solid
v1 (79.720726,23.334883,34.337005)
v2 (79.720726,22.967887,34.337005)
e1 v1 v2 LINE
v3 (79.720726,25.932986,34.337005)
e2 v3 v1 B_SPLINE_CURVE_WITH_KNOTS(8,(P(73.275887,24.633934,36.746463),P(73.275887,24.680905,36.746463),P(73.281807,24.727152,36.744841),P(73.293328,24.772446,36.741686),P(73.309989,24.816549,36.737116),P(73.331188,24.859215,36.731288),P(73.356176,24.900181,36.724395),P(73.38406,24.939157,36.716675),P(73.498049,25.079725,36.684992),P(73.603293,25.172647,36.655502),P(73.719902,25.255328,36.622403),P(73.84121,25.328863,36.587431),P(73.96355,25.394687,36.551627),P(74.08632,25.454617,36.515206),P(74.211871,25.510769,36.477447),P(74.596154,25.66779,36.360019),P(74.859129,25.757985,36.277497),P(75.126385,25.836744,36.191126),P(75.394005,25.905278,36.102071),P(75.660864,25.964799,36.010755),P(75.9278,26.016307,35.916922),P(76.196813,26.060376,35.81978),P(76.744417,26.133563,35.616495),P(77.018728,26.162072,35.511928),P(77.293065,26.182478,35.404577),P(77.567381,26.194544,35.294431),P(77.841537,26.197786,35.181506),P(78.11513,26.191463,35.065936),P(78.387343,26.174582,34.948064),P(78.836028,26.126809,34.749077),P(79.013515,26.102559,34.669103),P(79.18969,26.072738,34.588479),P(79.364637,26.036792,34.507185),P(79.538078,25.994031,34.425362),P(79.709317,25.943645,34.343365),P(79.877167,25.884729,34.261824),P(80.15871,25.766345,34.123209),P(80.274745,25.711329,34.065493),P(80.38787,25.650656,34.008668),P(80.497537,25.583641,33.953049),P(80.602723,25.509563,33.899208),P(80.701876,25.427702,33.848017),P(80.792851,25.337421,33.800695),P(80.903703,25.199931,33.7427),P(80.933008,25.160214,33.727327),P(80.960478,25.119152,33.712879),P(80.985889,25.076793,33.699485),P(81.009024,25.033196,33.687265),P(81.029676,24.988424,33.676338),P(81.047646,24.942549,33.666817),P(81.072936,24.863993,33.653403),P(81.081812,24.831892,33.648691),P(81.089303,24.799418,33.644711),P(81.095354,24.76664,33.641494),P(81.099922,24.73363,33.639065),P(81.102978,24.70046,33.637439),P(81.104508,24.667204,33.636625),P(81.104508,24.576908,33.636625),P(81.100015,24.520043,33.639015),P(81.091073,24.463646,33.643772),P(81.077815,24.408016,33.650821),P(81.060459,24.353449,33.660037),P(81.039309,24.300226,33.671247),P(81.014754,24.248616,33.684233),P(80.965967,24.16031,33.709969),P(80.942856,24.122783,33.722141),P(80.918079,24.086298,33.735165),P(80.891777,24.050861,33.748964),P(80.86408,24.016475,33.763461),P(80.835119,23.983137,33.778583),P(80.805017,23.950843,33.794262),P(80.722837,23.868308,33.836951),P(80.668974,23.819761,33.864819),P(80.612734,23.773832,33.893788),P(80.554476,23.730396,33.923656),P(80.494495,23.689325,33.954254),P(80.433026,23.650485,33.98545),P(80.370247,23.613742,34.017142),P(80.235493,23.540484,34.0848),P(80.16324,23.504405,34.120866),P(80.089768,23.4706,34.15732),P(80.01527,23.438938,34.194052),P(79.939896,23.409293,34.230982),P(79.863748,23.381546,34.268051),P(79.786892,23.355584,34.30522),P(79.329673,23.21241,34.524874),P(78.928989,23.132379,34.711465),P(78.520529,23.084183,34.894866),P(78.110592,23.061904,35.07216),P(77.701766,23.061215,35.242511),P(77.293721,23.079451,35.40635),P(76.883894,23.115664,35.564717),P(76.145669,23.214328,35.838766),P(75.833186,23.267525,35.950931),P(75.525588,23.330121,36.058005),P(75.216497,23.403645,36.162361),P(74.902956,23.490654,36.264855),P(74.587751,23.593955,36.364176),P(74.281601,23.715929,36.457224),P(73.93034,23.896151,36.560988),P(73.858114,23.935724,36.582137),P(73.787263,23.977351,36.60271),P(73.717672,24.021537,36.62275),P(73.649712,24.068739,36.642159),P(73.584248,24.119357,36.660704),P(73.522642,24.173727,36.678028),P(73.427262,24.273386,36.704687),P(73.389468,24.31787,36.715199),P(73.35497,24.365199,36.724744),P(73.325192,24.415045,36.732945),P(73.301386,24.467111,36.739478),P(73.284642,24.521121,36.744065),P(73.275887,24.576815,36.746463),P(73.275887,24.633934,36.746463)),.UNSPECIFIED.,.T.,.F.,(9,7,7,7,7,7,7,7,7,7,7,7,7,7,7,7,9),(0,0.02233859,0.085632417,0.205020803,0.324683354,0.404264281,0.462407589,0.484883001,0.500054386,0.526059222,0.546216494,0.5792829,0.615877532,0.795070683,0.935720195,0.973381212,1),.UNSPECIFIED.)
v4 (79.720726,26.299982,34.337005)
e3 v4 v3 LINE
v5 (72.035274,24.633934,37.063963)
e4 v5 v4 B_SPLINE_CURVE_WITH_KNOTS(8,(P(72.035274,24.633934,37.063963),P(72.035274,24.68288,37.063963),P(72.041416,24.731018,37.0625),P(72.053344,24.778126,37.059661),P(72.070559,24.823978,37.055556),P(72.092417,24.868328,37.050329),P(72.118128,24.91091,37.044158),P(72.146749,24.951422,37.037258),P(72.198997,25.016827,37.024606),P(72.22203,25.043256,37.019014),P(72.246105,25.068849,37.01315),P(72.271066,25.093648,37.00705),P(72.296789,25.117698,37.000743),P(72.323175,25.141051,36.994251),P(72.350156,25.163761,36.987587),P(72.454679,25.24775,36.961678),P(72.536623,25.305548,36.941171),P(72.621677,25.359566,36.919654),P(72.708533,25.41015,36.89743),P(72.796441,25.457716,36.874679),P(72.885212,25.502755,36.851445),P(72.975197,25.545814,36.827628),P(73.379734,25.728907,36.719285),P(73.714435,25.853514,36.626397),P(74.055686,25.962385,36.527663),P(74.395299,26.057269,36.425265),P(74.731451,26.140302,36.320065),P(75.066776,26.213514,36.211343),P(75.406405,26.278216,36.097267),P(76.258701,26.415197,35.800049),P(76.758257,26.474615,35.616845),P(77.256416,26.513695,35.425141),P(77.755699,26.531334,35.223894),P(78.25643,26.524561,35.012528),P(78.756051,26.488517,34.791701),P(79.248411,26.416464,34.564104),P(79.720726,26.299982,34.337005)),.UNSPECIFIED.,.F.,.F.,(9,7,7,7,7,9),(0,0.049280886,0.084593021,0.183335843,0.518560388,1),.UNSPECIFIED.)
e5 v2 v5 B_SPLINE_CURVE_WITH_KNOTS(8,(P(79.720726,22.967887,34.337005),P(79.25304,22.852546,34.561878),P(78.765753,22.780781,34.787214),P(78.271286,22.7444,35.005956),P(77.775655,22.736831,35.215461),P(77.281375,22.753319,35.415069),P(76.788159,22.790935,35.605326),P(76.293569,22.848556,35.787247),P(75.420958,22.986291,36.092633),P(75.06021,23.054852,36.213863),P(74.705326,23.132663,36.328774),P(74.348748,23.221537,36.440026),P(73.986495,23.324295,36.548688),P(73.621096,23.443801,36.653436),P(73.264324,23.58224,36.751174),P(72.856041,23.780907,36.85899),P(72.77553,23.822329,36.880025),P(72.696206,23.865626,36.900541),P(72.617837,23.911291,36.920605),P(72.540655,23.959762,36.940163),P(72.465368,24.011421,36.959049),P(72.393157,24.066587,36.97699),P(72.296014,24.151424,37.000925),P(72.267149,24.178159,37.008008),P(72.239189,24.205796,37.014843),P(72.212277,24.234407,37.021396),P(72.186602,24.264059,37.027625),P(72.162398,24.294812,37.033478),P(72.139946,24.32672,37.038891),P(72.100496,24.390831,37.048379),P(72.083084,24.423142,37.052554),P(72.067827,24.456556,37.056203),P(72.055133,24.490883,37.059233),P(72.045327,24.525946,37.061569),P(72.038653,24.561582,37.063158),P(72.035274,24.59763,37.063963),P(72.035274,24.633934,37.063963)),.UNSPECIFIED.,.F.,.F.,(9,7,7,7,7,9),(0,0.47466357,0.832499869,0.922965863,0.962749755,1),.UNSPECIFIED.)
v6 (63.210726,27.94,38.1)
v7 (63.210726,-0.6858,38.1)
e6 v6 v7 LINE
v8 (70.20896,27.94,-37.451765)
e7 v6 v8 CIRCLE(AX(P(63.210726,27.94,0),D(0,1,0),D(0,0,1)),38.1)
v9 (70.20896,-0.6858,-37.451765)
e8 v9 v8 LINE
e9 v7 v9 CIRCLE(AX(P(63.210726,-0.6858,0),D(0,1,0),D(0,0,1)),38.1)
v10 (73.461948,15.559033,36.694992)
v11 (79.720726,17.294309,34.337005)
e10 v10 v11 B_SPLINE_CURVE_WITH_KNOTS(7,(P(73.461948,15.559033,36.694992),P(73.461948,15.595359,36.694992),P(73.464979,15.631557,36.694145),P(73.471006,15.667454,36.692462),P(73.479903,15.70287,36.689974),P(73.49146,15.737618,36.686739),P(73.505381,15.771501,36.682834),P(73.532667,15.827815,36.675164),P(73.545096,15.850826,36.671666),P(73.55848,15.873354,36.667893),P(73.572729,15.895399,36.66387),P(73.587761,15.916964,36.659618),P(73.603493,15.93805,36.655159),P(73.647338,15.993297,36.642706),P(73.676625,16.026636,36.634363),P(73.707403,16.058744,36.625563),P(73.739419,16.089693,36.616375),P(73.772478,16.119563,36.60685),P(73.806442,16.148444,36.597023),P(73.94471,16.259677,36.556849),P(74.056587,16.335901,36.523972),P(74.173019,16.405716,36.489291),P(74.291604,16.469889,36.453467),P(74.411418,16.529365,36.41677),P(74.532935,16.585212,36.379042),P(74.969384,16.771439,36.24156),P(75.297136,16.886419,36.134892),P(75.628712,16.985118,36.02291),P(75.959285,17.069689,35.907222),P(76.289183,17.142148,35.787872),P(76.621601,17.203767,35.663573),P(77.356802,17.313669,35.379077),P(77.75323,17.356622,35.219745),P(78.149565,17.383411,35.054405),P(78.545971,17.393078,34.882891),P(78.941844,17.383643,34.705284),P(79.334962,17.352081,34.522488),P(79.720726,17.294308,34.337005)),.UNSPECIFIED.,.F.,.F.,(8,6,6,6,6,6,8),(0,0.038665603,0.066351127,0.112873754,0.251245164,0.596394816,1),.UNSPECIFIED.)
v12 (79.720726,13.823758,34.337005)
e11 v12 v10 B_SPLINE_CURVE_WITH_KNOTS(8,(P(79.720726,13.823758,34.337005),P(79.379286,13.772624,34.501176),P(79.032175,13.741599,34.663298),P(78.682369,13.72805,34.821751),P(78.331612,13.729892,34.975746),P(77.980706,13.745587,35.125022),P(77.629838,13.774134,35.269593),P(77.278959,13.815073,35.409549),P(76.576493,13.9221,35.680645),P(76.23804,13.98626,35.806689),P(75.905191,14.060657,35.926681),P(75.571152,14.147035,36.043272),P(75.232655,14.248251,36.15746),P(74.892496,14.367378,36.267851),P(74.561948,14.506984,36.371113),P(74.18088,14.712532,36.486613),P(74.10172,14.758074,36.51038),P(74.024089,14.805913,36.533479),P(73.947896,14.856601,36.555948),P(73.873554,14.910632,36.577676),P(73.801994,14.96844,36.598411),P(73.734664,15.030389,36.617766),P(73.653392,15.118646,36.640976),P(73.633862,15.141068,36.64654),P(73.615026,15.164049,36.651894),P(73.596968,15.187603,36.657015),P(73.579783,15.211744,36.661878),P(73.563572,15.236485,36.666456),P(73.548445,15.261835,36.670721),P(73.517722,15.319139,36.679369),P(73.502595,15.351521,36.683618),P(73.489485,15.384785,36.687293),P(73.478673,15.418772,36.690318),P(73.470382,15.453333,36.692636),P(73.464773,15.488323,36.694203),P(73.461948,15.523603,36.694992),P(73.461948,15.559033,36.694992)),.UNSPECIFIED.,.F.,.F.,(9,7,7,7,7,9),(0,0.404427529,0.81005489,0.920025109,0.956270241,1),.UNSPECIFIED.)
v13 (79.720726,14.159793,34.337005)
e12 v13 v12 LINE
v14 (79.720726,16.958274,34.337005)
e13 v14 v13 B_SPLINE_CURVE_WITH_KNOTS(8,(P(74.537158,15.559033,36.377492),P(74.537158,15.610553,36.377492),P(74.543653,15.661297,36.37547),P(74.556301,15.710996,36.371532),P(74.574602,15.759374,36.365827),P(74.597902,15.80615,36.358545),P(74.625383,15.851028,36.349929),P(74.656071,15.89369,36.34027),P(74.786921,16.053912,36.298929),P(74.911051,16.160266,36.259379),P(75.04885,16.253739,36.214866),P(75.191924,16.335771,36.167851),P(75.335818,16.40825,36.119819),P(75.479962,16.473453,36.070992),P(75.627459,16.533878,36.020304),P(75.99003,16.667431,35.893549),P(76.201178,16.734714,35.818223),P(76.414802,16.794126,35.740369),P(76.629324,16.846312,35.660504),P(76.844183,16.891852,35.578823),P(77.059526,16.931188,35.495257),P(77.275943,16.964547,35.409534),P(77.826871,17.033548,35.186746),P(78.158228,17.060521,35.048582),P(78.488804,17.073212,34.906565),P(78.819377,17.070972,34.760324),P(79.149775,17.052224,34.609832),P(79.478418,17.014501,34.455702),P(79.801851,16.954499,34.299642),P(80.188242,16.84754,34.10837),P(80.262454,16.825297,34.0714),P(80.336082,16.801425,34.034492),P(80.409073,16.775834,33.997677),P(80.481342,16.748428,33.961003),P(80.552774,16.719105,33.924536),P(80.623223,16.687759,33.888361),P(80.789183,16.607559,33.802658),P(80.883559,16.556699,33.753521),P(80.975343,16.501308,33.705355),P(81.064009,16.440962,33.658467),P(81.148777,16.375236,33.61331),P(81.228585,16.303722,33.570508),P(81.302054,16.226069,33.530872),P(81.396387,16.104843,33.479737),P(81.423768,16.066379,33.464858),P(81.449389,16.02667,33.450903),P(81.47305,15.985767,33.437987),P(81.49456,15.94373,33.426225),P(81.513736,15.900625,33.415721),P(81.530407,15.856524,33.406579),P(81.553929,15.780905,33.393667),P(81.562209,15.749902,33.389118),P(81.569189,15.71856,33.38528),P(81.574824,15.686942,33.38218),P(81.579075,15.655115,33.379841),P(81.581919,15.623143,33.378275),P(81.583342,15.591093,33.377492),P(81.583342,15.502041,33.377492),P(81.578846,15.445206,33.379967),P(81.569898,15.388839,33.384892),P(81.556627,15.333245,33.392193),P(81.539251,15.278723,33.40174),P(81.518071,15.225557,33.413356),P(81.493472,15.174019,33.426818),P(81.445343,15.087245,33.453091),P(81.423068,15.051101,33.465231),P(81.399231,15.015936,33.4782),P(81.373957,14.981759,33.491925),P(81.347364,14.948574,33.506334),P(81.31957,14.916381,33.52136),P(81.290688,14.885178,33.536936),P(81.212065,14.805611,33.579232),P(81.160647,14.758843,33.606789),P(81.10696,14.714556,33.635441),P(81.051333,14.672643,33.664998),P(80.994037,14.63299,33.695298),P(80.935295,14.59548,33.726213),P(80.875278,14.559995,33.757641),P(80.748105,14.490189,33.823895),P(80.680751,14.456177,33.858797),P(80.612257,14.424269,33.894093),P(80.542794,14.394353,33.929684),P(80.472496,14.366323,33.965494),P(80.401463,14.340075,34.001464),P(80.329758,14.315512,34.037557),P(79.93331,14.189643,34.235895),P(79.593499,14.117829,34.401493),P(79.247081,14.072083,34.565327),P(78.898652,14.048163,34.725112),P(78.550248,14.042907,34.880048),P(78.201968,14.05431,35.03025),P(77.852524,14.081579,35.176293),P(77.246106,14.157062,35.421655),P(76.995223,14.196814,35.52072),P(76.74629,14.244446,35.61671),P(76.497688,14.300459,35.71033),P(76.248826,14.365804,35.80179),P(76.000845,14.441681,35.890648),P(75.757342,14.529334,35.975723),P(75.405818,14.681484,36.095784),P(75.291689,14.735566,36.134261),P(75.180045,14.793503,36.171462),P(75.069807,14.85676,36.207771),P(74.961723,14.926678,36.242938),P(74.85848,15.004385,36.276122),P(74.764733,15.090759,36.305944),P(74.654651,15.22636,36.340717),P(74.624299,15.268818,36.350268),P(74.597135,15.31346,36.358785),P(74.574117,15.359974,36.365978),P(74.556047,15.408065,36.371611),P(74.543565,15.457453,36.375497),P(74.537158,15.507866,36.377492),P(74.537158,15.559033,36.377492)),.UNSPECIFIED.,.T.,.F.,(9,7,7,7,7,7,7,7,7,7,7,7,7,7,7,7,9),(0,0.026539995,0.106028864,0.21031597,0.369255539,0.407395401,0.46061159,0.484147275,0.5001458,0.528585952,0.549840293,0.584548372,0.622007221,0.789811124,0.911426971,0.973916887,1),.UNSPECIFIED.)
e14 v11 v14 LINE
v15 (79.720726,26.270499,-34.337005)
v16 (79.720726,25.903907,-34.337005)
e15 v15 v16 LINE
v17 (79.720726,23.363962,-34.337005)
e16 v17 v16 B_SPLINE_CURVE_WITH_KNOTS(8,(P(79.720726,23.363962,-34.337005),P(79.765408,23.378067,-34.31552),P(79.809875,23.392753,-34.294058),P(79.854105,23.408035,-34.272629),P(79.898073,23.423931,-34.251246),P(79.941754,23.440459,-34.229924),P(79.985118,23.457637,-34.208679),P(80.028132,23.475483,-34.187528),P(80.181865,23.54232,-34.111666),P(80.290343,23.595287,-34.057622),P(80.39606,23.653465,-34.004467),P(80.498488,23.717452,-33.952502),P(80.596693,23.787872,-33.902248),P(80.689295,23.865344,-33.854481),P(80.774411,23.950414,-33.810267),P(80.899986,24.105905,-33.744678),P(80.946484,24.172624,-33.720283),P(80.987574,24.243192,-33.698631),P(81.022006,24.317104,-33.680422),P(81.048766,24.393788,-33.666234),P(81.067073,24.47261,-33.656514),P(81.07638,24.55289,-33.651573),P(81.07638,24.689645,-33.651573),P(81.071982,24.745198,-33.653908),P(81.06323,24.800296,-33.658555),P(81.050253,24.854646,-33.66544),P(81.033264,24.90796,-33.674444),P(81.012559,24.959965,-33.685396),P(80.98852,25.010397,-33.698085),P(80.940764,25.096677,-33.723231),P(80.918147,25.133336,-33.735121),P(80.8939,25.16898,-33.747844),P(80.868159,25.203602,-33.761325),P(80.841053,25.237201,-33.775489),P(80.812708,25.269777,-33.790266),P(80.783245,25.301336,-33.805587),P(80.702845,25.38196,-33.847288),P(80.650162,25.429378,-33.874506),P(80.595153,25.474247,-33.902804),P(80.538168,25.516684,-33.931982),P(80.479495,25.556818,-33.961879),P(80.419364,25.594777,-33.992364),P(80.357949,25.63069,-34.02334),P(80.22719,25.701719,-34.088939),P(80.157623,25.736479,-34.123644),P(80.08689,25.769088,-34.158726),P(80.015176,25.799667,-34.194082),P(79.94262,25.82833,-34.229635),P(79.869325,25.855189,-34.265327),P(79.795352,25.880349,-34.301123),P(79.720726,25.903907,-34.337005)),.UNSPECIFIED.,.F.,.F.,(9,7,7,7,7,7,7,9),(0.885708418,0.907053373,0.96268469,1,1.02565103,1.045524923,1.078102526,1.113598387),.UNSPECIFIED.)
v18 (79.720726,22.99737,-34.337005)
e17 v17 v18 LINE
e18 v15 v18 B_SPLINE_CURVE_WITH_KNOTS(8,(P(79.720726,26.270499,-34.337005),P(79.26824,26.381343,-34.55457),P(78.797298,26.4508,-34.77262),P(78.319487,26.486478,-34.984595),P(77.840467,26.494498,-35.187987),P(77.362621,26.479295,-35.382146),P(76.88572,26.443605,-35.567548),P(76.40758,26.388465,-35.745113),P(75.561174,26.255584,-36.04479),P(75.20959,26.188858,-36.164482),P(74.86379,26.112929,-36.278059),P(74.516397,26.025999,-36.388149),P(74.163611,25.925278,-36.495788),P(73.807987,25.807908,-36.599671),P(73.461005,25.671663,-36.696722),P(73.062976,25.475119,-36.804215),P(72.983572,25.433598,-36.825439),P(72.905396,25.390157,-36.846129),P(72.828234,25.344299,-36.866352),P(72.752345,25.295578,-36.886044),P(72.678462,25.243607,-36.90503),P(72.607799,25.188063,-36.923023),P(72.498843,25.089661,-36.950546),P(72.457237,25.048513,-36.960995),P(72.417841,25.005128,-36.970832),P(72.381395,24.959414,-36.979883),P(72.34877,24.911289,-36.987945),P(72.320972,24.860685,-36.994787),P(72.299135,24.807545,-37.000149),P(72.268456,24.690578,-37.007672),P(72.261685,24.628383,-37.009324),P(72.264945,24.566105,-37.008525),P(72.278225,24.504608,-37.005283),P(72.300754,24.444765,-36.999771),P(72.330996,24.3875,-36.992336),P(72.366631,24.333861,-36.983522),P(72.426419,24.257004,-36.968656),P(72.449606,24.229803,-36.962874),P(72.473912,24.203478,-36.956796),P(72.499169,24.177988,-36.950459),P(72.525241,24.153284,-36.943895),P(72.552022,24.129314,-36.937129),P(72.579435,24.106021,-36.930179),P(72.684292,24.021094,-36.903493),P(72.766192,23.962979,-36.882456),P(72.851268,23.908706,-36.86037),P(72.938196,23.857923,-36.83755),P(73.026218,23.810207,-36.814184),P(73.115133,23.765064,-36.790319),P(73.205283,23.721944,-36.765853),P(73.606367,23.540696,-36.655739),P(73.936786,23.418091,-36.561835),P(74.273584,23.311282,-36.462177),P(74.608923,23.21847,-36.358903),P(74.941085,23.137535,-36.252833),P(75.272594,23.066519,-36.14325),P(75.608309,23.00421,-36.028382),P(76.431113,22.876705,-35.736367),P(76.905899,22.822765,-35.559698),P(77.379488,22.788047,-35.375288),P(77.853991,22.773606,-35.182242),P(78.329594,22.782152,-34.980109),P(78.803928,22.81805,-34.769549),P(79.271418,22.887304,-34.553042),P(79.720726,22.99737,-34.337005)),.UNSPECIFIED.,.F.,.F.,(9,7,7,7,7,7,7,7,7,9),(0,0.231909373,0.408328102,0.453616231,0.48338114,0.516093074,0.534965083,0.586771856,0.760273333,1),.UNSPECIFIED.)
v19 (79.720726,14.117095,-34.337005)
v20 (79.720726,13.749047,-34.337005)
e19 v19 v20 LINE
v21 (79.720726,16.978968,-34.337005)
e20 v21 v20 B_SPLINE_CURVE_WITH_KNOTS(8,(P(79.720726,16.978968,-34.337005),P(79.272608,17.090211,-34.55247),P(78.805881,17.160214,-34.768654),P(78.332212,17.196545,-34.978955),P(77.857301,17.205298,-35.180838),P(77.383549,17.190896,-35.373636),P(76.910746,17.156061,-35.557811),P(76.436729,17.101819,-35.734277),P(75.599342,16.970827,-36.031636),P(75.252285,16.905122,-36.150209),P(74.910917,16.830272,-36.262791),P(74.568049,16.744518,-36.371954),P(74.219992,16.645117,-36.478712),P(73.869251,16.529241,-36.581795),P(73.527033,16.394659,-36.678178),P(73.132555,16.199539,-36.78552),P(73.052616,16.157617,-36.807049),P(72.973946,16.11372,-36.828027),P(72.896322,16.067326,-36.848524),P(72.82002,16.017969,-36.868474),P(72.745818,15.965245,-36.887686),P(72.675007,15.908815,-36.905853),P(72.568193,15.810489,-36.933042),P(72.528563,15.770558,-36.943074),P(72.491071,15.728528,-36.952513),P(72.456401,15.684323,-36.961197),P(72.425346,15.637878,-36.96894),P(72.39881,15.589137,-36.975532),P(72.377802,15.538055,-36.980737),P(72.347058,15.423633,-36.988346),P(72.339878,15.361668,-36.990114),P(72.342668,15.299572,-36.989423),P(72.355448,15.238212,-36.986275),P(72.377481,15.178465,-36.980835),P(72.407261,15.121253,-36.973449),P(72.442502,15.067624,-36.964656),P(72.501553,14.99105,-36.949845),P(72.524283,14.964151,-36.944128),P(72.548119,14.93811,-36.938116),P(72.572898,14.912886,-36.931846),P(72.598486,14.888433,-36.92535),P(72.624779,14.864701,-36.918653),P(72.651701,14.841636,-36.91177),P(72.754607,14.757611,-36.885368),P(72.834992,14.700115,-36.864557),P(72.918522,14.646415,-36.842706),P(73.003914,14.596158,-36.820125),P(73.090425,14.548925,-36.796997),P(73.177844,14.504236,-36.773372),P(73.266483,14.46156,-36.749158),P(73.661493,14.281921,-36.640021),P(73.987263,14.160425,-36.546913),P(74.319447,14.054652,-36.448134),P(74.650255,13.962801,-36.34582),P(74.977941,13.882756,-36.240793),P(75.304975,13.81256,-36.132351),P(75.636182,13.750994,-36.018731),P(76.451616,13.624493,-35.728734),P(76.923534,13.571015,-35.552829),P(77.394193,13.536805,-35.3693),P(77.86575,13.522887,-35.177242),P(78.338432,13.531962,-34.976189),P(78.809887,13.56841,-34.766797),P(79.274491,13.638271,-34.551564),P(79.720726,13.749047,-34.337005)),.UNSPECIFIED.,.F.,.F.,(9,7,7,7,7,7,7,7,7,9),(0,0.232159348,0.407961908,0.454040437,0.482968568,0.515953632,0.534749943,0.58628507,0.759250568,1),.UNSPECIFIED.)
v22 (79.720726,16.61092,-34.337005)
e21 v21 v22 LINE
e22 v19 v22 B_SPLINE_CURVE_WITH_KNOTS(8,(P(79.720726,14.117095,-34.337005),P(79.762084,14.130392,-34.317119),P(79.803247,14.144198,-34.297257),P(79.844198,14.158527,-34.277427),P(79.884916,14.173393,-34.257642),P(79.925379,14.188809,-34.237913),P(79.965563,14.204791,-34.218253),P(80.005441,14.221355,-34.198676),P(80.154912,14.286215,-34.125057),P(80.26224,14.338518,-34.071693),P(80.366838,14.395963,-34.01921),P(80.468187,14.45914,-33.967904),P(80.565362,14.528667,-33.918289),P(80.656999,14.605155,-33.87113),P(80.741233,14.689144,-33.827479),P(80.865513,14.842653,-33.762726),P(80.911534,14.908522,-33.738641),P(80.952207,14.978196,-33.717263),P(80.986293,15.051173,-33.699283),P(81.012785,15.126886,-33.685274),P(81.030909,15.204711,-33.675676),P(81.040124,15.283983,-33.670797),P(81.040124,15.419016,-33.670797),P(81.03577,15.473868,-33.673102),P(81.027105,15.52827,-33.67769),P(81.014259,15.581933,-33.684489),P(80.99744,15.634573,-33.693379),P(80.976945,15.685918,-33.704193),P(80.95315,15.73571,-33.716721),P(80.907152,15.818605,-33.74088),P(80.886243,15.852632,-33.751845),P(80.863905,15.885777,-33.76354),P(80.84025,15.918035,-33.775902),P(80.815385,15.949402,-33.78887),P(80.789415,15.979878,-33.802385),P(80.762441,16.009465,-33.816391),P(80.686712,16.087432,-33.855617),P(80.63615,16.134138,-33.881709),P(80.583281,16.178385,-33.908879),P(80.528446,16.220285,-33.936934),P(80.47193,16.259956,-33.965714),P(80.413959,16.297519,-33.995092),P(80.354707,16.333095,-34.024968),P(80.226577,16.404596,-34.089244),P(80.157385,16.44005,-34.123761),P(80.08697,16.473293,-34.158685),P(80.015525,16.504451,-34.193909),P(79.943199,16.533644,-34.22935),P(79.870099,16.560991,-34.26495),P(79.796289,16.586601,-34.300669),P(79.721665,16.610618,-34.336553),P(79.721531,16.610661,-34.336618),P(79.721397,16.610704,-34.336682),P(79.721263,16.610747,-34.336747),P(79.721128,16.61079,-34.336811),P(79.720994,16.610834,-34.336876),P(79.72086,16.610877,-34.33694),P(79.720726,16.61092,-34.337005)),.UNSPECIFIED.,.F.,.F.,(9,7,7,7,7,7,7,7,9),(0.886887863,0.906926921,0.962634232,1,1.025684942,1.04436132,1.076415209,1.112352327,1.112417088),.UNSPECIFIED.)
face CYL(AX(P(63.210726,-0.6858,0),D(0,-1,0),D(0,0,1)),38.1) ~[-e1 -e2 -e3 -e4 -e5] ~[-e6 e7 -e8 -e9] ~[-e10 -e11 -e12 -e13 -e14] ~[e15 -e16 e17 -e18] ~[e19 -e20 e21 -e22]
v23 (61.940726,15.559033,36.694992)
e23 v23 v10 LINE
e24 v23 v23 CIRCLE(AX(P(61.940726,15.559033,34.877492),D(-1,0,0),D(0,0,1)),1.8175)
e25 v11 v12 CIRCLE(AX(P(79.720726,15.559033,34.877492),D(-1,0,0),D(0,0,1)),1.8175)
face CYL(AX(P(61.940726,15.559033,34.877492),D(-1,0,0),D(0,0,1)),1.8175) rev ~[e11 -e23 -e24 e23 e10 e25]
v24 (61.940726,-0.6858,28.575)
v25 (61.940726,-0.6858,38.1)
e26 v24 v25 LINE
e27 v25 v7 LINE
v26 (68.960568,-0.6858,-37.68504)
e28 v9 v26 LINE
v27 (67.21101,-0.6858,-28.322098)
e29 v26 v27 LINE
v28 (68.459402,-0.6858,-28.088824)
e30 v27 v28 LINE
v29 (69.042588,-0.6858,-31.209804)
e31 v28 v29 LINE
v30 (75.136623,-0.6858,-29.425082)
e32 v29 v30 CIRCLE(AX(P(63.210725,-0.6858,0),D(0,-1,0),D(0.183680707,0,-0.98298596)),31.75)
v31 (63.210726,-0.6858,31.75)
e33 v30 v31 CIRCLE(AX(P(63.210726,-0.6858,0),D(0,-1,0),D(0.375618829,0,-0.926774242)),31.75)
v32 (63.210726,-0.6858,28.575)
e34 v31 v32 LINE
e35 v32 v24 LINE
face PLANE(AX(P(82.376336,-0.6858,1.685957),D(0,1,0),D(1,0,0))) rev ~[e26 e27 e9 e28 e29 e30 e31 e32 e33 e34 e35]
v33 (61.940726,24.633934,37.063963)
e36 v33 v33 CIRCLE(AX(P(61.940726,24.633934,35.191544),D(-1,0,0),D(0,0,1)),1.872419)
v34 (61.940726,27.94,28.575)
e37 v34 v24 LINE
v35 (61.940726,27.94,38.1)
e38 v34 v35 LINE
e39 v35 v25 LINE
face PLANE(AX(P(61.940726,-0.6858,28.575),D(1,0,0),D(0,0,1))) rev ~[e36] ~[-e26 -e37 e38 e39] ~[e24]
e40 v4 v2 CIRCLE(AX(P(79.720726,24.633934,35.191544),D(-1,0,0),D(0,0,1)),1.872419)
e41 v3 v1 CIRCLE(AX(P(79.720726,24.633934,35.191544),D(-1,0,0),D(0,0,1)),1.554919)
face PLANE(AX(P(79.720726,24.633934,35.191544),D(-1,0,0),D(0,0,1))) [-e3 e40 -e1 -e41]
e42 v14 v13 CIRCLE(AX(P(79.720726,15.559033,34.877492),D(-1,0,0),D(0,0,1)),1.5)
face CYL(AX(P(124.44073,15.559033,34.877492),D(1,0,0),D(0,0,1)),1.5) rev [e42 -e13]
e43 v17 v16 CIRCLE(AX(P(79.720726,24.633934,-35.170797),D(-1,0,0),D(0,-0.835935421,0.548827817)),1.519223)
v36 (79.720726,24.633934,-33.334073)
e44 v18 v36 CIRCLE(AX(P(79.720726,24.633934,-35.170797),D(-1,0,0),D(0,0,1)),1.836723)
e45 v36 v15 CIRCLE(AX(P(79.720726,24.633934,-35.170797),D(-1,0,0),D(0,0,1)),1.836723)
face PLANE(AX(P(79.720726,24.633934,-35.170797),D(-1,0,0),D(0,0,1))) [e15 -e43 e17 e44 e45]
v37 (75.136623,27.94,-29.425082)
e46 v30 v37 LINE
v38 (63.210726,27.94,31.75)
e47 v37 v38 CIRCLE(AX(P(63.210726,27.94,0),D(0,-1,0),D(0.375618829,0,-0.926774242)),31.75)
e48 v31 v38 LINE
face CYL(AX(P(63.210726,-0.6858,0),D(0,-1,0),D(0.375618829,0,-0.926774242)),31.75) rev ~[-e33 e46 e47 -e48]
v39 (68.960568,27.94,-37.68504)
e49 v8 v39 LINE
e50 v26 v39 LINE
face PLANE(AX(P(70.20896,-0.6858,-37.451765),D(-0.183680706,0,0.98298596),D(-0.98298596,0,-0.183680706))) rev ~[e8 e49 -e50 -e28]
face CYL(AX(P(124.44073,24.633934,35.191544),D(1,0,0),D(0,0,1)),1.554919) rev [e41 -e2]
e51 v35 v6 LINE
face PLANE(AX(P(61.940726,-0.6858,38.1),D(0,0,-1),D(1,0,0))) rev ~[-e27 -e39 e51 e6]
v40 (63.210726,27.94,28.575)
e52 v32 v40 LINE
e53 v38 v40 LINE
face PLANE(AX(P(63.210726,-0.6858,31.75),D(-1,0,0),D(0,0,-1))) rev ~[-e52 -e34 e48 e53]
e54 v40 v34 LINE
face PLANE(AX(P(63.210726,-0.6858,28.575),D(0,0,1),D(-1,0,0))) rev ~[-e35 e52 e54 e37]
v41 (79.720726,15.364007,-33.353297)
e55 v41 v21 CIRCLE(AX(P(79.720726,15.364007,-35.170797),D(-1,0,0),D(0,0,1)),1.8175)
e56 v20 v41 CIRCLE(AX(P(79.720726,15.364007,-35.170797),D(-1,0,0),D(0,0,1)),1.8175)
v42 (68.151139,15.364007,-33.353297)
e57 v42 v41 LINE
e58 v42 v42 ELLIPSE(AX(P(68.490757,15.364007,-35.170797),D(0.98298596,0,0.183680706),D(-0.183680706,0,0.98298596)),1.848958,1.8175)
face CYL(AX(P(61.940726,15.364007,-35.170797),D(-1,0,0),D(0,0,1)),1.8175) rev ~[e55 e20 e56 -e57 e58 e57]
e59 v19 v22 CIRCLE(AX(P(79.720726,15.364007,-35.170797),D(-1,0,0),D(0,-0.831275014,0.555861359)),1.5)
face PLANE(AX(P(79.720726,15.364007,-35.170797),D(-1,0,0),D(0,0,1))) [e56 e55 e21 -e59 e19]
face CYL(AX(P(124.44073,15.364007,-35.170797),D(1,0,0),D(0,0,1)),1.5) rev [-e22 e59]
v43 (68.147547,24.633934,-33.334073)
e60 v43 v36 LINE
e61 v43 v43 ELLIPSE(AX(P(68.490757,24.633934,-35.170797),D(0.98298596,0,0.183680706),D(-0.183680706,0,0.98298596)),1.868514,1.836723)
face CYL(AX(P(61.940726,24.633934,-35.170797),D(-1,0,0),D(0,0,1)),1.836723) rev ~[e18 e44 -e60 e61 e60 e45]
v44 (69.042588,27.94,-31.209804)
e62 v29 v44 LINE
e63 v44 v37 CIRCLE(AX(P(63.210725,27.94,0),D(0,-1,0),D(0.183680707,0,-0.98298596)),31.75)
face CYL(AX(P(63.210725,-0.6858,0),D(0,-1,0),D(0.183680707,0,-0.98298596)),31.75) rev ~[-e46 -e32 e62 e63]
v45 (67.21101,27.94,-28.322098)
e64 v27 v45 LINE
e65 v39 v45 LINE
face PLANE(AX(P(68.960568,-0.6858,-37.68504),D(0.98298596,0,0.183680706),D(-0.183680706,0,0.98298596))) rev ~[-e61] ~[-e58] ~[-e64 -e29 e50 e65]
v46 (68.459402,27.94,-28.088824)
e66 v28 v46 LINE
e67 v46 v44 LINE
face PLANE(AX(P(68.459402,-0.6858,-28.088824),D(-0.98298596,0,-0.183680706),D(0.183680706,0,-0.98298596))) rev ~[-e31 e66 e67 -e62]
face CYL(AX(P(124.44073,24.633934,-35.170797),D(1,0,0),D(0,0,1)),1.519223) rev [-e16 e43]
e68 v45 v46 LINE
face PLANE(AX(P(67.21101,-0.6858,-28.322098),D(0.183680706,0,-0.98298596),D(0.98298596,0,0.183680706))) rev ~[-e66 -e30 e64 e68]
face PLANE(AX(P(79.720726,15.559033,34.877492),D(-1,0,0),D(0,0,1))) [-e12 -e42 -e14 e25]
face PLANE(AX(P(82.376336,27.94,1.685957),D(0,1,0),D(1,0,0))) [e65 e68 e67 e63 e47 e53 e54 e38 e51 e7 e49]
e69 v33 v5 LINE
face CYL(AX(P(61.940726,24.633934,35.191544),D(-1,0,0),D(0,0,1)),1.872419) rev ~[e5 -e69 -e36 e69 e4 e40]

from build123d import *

# Parameters (mm, degrees)
BOSS_EXTRUDE1_DEPTH     = 27.94
CUT_EXTRUDE1_DEPTH      = 62.500004065
CUT_EXTRUDE1_DEPTH_BACK = 62.500004065
SKETCH2_R               = 1.5
SKETCH2_R_2             = 1.554918768
SKETCH2_R_3             = 1.519223358
SKETCH2_3_R             = 1.8175
SKETCH2_3_R_2           = 1.5
SKETCH2_3_R_3           = 1.872418768
SKETCH2_3_R_4           = 1.554918768
SKETCH2_3_R_5           = 1.836723358
SKETCH2_3_R_6           = 1.519223358
CUT_EXTRUDE2_DEPTH      = 17.78
BOSS_EXTRUDE2_START     = -0.6858
BOSS_EXTRUDE2_DEPTH     = 0.6858


with BuildPart() as part:
    # Sketch1 → Boss-Extrude1 (new body)
    with BuildSketch(Plane(origin=(0, 0, 0), x_dir=(1, 0, 0), z_dir=(0, 1, 0))):
        with BuildLine():
            ThreePointArc((63.210725521, -38.1), (101.148320659, -3.514096627), (70.208960434, 37.451765087))
            Line((70.208960434, 37.451765087), (68.960568265, 37.685039584))
            Line((68.960568265, 37.685039584), (67.211009536, 28.322098312))
            Line((67.211009536, 28.322098312), (68.459401706, 28.088823815))
            Line((68.459401706, 28.088823815), (69.042587949, 31.209804239))
            ThreePointArc((69.042587949, 31.209804239), (72.134335795, 30.470176889), (75.136623327, 29.425082184))
            ThreePointArc((75.136623327, 29.425082184), (94.374076266, -6.075201259), (63.210725521, -31.75))
            Line((63.210725521, -31.75), (63.210725521, -28.575))
            Line((63.210725521, -28.575), (61.940725521, -28.575))
            Line((61.940725521, -28.575), (61.940725521, -38.1))
            Line((61.940725521, -38.1), (63.210725521, -38.1))
        make_face()
    extrude(amount=BOSS_EXTRUDE1_DEPTH)

    # Sketch2 → Cut-Extrude1 (cut, two sides: drawn at the far end of the back side and taken through both)
    with BuildSketch(Plane.ZY.offset(-61.940725521).offset(-CUT_EXTRUDE1_DEPTH_BACK)):
        with Locations((34.877492102, 15.559033415)):
            Circle(SKETCH2_R)
        with Locations((35.191543991, 24.633934205)):
            Circle(SKETCH2_R_2)
        with Locations((-35.170796856, 24.633934205)):
            Circle(SKETCH2_R_3)
        with Locations((-35.170796856, 15.364007333)):
            Circle(SKETCH2_R)
    extrude(amount=CUT_EXTRUDE1_DEPTH + CUT_EXTRUDE1_DEPTH_BACK, mode=Mode.SUBTRACT)

    # Sketch2<3> → Cut-Extrude2 (cut)
    # profile 1 of 4: a face of its own
    with BuildSketch(Plane.ZY.offset(-61.940725521)):
        with Locations((34.877492102, 15.559033415)):
            Circle(SKETCH2_3_R)
        with Locations((34.877492102, 15.559033415)):
            Circle(SKETCH2_3_R_2, mode=Mode.SUBTRACT)
    # profile 2 of 4: a face of its own
    with BuildSketch(Plane.ZY.offset(-61.940725521)):
        with Locations((35.191543991, 24.633934205)):
            Circle(SKETCH2_3_R_3)
        with Locations((35.191543991, 24.633934205)):
            Circle(SKETCH2_3_R_4, mode=Mode.SUBTRACT)
    # profile 3 of 4: a face of its own
    with BuildSketch(Plane.ZY.offset(-61.940725521)):
        with Locations((-35.170796856, 24.633934205)):
            Circle(SKETCH2_3_R_5)
        with Locations((-35.170796856, 24.633934205)):
            Circle(SKETCH2_3_R_6, mode=Mode.SUBTRACT)
    # profile 4 of 4: a face of its own
    with BuildSketch(Plane.ZY.offset(-61.940725521)):
        with Locations((-35.170796856, 15.364007333)):
            Circle(SKETCH2_3_R)
        with Locations((-35.170796856, 15.364007333)):
            Circle(SKETCH2_3_R_2, mode=Mode.SUBTRACT)
    extrude(amount=-CUT_EXTRUDE2_DEPTH, mode=Mode.SUBTRACT)

    # Sketch1<2> → Boss-Extrude2 (add)
    with BuildSketch(Plane(origin=(0, 0, 0), x_dir=(1, 0, 0), z_dir=(0, 1, 0)).offset(BOSS_EXTRUDE2_START)):
        with BuildLine():
            ThreePointArc((63.210725521, -38.1), (101.148320659, -3.514096627), (70.208960434, 37.451765087))
            Line((70.208960434, 37.451765087), (68.960568265, 37.685039584))
            Line((68.960568265, 37.685039584), (67.211009536, 28.322098312))
            Line((67.211009536, 28.322098312), (68.459401706, 28.088823815))
            Line((68.459401706, 28.088823815), (69.042587949, 31.209804239))
            ThreePointArc((69.042587949, 31.209804239), (72.134335795, 30.470176889), (75.136623327, 29.425082184))
            ThreePointArc((75.136623327, 29.425082184), (94.374076266, -6.075201259), (63.210725521, -31.75))
            Line((63.210725521, -31.75), (63.210725521, -28.575))
            Line((63.210725521, -28.575), (61.940725521, -28.575))
            Line((61.940725521, -28.575), (61.940725521, -38.1))
            Line((61.940725521, -38.1), (63.210725521, -38.1))
        make_face()
    extrude(amount=BOSS_EXTRUDE2_DEPTH)


solid = part.part
